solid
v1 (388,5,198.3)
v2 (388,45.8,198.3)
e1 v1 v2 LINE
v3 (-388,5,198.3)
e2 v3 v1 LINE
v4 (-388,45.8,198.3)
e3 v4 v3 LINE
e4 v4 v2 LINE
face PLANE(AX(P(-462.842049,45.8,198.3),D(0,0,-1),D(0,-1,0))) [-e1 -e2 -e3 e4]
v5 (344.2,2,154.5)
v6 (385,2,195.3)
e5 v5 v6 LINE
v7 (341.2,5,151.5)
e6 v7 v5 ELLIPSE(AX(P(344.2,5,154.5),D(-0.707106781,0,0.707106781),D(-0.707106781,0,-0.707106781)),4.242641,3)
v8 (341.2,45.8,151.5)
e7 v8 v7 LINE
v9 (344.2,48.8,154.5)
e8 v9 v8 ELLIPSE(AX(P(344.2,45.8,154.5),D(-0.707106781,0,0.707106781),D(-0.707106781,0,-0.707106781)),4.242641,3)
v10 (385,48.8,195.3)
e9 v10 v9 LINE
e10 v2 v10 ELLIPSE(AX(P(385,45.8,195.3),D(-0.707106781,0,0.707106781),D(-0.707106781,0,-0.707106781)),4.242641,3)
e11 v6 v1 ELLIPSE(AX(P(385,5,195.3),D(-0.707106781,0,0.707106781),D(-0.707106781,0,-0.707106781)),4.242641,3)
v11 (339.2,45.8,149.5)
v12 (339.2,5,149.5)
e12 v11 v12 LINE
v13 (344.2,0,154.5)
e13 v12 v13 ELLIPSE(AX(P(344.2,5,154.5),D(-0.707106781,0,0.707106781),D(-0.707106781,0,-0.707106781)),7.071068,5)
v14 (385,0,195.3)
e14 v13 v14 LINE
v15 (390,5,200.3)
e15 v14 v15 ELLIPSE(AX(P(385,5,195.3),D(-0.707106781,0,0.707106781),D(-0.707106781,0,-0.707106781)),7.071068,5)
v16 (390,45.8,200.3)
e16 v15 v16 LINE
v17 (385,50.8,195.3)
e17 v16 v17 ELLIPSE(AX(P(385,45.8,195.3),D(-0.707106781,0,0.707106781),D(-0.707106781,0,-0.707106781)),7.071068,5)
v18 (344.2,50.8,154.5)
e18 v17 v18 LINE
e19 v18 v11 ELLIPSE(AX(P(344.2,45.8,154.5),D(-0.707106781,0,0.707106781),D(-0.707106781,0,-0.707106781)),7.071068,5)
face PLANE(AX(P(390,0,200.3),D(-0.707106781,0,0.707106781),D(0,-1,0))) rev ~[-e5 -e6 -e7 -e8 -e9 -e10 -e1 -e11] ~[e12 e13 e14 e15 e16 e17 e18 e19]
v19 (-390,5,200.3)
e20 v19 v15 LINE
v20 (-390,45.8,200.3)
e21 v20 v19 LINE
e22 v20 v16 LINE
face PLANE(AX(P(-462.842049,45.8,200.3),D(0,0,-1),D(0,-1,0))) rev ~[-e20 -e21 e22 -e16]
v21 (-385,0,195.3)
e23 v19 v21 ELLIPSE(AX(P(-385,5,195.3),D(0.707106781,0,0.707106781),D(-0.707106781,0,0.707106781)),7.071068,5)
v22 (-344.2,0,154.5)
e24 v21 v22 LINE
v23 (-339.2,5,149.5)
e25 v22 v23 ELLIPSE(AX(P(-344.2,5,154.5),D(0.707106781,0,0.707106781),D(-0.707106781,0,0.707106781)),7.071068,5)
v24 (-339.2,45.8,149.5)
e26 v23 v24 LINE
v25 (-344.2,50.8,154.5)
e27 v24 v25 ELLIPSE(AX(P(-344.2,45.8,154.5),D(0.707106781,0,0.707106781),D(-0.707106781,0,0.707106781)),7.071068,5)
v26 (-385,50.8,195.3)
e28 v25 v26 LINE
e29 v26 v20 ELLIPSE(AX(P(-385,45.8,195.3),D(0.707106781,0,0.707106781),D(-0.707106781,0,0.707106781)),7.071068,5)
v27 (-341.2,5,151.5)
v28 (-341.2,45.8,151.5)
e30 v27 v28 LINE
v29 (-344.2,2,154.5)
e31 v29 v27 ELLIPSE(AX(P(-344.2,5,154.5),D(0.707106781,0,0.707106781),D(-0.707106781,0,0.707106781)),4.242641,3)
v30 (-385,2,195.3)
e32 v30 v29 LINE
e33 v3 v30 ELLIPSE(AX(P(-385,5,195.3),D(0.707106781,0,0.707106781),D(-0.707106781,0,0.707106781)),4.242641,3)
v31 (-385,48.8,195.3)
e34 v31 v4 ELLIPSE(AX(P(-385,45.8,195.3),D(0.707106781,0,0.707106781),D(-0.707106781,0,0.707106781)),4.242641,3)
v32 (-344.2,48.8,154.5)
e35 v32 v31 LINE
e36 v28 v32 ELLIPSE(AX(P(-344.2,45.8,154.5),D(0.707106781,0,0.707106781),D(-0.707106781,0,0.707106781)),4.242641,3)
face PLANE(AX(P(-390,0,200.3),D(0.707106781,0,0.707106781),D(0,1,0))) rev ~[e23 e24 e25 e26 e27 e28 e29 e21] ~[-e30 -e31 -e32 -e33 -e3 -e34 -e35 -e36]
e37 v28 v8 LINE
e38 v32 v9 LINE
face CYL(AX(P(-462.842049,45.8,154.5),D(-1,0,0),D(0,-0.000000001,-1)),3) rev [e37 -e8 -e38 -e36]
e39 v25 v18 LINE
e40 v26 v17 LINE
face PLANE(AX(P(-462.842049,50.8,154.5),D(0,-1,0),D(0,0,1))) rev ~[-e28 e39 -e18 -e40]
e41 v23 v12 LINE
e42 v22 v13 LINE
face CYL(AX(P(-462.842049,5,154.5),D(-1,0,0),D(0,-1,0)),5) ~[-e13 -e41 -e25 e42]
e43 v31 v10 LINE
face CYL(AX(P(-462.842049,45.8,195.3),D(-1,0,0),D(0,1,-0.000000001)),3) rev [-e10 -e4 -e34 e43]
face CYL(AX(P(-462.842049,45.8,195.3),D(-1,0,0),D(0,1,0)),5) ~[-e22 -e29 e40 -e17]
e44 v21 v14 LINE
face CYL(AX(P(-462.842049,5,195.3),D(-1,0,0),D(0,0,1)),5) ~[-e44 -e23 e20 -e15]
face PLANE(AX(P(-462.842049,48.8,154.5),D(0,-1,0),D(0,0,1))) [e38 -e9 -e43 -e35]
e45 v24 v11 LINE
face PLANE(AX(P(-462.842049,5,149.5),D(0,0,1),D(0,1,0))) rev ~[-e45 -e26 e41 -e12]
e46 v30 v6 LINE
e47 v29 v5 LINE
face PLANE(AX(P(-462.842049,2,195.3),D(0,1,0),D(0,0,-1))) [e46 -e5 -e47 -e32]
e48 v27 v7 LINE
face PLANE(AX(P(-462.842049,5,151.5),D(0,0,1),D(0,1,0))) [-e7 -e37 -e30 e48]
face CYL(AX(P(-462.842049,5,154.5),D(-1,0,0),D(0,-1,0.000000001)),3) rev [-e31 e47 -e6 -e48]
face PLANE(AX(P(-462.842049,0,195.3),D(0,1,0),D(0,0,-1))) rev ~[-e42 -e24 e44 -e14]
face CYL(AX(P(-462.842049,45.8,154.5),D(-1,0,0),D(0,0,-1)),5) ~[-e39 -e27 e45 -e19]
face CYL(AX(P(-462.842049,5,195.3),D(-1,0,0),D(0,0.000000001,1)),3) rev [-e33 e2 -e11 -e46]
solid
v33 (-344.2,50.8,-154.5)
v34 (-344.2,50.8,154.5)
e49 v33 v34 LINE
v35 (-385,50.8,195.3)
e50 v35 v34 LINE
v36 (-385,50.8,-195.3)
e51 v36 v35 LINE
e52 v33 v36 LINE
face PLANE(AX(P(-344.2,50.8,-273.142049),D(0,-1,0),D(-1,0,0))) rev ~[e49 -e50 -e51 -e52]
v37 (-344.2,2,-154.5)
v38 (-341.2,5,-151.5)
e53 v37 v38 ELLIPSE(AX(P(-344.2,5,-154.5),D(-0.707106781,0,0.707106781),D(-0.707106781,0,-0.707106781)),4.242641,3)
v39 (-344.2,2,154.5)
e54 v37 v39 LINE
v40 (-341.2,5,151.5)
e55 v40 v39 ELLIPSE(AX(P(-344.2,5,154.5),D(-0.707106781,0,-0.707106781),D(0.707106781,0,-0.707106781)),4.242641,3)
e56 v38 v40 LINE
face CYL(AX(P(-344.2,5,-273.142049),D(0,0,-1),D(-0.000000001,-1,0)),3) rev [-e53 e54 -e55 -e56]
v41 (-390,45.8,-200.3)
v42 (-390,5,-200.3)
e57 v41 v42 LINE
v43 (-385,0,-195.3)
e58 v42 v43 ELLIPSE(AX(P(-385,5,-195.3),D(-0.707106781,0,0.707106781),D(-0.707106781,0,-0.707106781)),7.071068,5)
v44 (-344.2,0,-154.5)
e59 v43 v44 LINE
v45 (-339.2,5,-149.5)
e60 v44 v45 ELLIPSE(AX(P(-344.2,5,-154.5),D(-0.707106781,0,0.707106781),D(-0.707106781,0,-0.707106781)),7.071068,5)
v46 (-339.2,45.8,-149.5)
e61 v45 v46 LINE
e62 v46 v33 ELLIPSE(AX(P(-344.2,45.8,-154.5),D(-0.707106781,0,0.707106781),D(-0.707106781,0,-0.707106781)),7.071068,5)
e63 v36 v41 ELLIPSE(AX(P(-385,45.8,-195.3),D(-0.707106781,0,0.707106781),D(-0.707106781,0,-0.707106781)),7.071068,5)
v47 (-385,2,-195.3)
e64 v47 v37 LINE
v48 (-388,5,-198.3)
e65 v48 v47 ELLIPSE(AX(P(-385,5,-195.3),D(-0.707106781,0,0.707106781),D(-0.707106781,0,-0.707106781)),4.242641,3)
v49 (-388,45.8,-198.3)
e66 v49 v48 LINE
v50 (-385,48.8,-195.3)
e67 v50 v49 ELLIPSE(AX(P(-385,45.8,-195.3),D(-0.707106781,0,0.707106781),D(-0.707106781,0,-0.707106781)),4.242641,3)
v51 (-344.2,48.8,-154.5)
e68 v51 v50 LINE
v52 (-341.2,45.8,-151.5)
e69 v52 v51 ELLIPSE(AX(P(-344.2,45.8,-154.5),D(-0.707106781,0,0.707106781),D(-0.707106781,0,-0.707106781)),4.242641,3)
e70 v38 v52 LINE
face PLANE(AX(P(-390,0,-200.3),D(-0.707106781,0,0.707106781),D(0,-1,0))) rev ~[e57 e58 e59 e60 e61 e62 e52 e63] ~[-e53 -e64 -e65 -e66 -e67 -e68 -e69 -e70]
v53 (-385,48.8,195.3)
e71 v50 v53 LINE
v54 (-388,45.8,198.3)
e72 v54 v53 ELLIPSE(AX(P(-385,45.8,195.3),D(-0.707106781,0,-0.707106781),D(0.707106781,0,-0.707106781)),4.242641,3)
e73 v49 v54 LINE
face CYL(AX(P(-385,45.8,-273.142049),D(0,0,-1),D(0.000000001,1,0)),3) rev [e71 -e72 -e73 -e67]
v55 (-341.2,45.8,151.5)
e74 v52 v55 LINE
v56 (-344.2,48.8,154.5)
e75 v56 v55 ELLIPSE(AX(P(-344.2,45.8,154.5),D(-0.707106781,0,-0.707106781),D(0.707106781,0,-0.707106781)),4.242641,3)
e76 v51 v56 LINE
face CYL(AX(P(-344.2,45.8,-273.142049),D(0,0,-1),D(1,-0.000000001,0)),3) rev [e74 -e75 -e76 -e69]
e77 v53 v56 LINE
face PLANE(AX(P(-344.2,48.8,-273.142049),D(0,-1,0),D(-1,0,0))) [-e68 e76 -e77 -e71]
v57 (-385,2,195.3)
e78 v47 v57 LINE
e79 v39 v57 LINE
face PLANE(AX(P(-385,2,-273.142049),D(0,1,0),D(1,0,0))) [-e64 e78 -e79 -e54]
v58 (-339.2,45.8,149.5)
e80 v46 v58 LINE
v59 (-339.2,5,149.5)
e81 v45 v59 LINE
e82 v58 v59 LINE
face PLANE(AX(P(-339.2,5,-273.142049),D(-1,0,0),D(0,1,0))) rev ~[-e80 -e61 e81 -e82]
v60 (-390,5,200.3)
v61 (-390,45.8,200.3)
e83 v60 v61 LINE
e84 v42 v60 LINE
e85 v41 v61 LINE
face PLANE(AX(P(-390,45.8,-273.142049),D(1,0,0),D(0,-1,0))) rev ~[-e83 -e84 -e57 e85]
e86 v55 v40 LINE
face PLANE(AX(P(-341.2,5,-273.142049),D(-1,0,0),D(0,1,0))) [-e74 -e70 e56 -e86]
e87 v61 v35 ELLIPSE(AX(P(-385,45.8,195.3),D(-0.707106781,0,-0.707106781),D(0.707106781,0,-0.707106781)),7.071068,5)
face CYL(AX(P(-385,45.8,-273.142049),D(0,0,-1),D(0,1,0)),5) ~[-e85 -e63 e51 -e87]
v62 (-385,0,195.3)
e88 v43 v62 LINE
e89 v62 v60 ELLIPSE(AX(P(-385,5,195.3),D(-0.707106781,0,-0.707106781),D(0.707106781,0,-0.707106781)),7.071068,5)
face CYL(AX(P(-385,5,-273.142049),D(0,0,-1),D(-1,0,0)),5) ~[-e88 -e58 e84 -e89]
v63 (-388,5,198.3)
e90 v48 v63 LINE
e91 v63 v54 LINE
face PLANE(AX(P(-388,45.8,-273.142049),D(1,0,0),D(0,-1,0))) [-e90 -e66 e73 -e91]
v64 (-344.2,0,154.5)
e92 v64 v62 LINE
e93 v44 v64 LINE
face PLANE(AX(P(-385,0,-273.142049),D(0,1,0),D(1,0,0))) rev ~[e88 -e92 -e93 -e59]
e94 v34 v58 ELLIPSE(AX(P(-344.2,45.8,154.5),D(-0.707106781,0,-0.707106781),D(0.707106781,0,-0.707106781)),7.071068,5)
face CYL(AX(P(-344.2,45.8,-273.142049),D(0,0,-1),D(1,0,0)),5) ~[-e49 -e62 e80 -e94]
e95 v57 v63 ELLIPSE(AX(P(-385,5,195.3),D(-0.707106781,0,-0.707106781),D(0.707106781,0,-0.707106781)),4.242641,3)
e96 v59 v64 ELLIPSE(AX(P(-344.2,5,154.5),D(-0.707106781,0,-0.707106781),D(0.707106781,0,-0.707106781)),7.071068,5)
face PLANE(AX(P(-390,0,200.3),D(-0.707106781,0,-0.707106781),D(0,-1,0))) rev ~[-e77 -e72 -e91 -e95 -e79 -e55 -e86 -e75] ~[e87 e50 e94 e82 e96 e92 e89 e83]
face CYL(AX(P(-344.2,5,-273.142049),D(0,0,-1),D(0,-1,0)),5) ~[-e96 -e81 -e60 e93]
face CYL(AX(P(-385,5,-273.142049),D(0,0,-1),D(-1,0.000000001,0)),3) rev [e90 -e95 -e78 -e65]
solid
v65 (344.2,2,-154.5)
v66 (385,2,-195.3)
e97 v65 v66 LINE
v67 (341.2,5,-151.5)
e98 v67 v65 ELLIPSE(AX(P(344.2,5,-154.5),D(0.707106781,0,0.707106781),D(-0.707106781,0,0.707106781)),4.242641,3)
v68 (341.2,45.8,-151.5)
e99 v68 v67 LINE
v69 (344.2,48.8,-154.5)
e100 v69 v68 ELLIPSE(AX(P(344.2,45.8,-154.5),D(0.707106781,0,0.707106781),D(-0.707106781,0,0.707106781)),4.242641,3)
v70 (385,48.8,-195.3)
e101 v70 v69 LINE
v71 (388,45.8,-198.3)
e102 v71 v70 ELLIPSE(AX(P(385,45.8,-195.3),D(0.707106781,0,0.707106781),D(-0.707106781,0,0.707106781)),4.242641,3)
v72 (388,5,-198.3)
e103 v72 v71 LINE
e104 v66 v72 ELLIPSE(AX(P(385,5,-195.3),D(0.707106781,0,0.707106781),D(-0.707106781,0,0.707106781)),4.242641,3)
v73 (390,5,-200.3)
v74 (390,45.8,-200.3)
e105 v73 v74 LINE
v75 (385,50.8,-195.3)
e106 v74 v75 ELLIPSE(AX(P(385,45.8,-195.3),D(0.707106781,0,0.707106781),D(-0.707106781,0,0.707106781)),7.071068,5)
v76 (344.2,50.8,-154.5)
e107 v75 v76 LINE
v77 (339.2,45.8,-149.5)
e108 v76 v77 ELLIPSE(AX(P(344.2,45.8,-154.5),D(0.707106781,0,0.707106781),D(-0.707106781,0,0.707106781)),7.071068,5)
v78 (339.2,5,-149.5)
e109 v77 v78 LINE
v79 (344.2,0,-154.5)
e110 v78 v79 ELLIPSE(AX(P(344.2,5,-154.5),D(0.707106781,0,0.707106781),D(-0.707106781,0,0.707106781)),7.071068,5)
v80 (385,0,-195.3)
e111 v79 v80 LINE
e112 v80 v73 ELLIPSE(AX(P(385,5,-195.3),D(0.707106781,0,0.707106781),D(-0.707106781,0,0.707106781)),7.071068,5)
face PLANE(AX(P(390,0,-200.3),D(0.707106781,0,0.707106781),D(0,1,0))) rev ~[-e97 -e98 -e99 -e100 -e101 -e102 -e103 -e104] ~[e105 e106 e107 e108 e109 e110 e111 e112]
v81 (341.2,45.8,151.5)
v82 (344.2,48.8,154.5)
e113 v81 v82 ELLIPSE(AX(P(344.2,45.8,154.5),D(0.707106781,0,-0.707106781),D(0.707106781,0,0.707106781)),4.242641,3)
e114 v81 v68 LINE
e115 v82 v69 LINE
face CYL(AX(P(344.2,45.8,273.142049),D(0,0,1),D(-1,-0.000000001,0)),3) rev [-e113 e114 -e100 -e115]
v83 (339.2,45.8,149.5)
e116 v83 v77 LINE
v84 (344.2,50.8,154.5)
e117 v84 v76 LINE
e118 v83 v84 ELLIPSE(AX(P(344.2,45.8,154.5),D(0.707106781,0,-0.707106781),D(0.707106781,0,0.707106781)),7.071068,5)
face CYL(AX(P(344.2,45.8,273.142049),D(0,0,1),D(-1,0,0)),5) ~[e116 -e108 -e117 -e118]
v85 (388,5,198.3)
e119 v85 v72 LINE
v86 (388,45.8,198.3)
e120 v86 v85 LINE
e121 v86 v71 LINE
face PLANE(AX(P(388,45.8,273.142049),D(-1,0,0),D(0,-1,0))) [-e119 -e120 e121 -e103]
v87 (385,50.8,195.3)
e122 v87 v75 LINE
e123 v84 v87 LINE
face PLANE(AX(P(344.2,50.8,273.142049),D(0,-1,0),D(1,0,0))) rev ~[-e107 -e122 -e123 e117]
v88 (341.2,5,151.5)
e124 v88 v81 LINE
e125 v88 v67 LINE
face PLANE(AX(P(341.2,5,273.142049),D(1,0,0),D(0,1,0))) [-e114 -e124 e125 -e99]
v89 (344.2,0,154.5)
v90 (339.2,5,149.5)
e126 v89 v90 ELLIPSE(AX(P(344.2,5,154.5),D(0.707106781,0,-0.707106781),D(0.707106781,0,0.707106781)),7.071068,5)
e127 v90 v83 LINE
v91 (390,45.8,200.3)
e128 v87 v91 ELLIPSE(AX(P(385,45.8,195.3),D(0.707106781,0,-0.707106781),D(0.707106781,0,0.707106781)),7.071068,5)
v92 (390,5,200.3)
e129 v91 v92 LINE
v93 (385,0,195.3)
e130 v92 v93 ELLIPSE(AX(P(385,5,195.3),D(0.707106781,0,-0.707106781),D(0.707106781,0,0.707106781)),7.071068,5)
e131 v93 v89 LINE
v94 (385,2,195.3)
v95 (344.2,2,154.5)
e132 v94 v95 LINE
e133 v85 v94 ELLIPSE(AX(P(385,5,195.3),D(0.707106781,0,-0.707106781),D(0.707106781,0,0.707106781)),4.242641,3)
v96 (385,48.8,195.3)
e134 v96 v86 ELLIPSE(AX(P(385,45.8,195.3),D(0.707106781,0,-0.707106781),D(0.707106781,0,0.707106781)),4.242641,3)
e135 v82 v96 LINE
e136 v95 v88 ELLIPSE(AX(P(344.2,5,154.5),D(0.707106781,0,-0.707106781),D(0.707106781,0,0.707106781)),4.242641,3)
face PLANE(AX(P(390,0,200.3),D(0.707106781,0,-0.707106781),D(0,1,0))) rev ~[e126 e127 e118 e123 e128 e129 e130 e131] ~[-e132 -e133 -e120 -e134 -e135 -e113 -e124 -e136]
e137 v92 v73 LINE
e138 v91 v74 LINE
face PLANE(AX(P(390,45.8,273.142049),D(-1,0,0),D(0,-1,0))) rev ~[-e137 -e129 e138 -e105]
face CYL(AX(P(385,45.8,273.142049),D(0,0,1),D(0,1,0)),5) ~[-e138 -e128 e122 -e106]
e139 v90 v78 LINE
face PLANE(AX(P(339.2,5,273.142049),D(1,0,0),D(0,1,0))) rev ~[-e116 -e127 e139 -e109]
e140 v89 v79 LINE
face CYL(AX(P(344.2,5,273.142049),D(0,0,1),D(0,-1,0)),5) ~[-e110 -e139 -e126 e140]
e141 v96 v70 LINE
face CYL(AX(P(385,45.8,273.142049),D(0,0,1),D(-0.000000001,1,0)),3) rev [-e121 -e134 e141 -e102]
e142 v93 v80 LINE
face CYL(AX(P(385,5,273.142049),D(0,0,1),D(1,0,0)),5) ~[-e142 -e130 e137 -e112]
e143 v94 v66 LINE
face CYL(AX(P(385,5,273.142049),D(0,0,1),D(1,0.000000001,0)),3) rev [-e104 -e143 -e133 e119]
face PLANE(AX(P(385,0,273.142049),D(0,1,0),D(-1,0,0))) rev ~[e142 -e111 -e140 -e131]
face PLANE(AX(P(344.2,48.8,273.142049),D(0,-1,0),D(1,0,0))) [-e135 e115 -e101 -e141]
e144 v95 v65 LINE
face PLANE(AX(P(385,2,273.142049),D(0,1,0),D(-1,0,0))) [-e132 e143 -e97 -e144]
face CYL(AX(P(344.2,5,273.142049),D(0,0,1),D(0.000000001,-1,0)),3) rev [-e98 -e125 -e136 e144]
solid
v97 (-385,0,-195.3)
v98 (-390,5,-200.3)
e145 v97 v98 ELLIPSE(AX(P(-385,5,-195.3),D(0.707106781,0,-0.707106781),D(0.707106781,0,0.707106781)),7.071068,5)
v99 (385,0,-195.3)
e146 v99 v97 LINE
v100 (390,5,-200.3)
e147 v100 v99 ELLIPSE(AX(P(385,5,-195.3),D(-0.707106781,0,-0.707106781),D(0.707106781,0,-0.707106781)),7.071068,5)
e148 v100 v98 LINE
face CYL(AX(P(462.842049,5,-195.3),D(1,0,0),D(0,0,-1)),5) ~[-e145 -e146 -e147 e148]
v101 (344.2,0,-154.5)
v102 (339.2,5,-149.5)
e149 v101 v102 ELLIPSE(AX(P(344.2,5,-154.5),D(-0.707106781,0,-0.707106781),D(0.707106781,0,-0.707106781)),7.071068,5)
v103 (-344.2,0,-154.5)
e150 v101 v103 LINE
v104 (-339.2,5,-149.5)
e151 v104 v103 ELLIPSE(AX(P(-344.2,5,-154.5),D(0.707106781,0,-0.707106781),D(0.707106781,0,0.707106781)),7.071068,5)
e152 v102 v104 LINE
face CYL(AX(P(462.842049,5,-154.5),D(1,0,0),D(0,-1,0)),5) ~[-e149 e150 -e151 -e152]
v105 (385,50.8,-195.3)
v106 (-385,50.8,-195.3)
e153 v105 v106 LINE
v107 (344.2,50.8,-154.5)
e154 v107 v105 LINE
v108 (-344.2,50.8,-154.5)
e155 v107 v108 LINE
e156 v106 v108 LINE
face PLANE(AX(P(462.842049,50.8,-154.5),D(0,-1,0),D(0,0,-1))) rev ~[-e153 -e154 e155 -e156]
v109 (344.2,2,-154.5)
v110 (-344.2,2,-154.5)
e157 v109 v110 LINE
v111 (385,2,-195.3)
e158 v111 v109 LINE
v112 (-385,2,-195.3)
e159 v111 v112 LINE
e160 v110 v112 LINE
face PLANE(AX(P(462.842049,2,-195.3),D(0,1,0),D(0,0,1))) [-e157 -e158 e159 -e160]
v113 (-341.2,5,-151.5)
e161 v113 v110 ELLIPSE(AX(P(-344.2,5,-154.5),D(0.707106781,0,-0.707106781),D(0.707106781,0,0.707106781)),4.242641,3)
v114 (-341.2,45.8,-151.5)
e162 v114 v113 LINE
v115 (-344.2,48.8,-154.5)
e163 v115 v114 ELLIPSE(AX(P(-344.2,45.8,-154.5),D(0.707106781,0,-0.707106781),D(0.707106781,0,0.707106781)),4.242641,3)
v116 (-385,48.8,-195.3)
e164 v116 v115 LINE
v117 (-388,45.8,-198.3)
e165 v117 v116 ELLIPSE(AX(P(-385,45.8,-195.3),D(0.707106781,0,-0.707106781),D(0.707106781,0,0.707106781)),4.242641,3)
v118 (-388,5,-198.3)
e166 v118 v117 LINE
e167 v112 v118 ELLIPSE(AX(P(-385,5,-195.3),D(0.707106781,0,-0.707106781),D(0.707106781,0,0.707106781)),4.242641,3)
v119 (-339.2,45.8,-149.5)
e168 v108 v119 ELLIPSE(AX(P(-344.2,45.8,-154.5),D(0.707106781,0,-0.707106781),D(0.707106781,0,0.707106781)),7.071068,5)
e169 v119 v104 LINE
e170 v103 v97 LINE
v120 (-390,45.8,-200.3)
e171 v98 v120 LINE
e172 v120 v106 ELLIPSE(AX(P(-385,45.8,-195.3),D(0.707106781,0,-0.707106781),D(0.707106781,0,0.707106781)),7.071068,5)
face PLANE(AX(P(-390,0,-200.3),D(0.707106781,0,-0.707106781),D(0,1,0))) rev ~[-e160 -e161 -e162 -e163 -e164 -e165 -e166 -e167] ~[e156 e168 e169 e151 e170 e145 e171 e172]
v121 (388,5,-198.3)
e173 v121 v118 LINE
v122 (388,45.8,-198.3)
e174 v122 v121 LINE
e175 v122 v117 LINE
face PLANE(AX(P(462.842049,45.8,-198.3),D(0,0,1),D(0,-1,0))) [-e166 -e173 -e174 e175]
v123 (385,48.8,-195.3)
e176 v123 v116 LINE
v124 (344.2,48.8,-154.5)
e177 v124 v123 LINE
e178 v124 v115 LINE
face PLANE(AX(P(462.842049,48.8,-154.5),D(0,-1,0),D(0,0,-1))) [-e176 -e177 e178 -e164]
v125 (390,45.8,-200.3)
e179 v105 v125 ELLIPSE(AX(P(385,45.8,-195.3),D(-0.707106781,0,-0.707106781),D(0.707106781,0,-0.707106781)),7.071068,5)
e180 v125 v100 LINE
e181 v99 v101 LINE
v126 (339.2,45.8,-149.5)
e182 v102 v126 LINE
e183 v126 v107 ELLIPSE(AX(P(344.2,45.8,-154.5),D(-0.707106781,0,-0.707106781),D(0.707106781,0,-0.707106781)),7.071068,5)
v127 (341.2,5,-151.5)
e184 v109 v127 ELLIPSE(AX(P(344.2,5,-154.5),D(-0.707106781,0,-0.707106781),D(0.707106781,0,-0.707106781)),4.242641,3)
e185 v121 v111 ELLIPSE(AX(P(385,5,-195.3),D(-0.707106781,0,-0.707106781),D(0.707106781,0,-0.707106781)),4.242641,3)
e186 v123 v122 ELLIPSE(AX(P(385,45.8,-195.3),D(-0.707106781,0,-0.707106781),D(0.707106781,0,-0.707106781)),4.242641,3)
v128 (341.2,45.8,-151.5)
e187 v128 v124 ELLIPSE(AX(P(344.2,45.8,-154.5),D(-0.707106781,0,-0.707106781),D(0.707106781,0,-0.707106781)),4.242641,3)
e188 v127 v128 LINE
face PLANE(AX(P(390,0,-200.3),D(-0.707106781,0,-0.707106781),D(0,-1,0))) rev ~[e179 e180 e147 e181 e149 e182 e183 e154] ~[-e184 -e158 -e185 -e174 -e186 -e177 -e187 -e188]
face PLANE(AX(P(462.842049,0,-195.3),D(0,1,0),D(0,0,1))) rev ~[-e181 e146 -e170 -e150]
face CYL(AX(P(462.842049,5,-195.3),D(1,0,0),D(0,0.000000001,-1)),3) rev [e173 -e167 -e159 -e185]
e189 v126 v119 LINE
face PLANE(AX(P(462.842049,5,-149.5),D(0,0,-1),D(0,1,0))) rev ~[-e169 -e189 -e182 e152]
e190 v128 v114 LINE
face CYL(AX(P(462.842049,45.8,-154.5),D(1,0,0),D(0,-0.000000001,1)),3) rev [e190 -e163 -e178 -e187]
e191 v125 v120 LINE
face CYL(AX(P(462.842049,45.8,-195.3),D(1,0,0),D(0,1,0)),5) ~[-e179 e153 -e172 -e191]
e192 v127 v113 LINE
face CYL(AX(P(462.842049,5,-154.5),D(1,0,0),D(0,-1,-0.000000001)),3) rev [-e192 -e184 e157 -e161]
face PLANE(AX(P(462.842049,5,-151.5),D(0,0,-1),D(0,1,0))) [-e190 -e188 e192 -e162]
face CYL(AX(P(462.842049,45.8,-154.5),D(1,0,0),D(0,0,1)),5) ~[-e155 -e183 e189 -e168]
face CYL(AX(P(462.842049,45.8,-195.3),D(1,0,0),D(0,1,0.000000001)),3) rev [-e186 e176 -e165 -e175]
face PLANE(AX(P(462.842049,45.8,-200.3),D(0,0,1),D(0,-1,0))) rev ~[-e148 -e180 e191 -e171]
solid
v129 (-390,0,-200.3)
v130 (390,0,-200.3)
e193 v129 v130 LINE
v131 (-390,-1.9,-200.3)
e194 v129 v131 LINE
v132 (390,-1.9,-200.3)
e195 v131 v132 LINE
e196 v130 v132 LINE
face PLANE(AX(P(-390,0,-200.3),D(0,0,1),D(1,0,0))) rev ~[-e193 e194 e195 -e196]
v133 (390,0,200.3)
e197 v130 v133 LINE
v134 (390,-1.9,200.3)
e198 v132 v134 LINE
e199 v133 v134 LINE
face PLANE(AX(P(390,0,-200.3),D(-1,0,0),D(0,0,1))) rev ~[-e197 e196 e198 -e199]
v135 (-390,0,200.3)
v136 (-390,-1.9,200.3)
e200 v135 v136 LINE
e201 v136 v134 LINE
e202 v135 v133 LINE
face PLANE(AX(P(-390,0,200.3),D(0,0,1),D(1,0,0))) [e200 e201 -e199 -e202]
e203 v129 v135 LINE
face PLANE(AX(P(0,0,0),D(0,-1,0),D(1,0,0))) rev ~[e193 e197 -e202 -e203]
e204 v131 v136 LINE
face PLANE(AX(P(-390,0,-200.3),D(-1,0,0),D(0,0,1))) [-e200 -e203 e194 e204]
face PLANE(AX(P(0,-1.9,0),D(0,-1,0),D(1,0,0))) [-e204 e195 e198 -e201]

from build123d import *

# Parameters (mm, degrees)
TUBO_CUADRADO_2_X_2_X_0_25_1_DEPTH      = 473.442048969
TUBO_CUADRADO_2_X_2_X_0_25_1_DEPTH_BACK = 72.842048969
TUBO_CUADRADO_2_X_2_X_0_25_1_2_DEPTH    = 925.684097937
TUBO_CUADRADO_2_X_2_X_0_25_1_3_DEPTH    = 546.284097937
TUBO_CUADRADO_2_X_2_X_0_25_1_4_DEPTH    = 925.684097937
CROQUIS3_W                              = 780
CROQUIS3_H                              = 400.6
SALIENTE_EXTRUIR1_DEPTH                 = 1.9


with BuildPart() as part:
    # Sketch1 → Tubo cuadrado 2 X 2 X 0.25(1) (new, two sides: drawn at the far end of the back side and taken through both)
    with BuildSketch(Plane(origin=(-364.6, 25.4, -200.3), x_dir=(1, 0, 0), z_dir=(0, 0, 1)).offset(-TUBO_CUADRADO_2_X_2_X_0_25_1_DEPTH_BACK)):
        with BuildLine():
            Line((-20.4, -25.4), (20.4, -25.4))
            ThreePointArc((20.4, -25.4), (23.935533906, -23.935533906), (25.4, -20.4))
            Line((25.4, -20.4), (25.4, 20.4))
            ThreePointArc((25.4, 20.4), (23.935533906, 23.935533906), (20.4, 25.4))
            Line((20.4, 25.4), (-20.4, 25.4))
            ThreePointArc((-20.4, 25.4), (-23.935533906, 23.935533906), (-25.4, 20.4))
            Line((-25.4, 20.4), (-25.4, -20.4))
            ThreePointArc((-25.4, -20.4), (-23.935533906, -23.935533906), (-20.4, -25.4))
        make_face()
        with BuildLine():
            Line((-20.4, -23.4), (20.4, -23.4))
            ThreePointArc((20.4, -23.4), (22.521320344, -22.521320344), (23.4, -20.4))
            Line((23.4, -20.4), (23.4, 20.4))
            ThreePointArc((23.4, 20.4), (22.521320344, 22.521320344), (20.4, 23.4))
            Line((20.4, 23.4), (-20.4, 23.4))
            ThreePointArc((-20.4, 23.4), (-22.521320344, 22.521320344), (-23.4, 20.4))
            Line((-23.4, 20.4), (-23.4, -20.4))
            ThreePointArc((-23.4, -20.4), (-22.521320344, -22.521320344), (-20.4, -23.4))
        make_face(mode=Mode.SUBTRACT)
    extrude(amount=TUBO_CUADRADO_2_X_2_X_0_25_1_DEPTH + TUBO_CUADRADO_2_X_2_X_0_25_1_DEPTH_BACK)

    # Tubo cuadrado 2 X 2 X 0.25(1) mitre 1
    split(bisect_by=Plane(origin=(-390, 0, -200.3), x_dir=(0, -1, 0), z_dir=(-0.707106781, 0, 0.707106781)), keep=Keep.TOP)

    # Tubo cuadrado 2 X 2 X 0.25(1) mitre 2
    split(bisect_by=Plane(origin=(-390, 0, 200.3), x_dir=(0, -1, 0), z_dir=(-0.707106781, 0, -0.707106781)), keep=Keep.TOP)


with BuildPart() as body_2:
    # Sketch1 on segment 2 (carried to segment 2) → Tubo cuadrado 2 X 2 X 0.25_1 2 (new body)
    with BuildSketch(Plane(origin=(-462.842048969, 25.4, 174.9), x_dir=(0, 0, -1), z_dir=(1, 0, 0))):
        with BuildLine():
            Line((-20.4, -25.4), (20.4, -25.4))
            ThreePointArc((20.4, -25.4), (23.935533906, -23.935533906), (25.4, -20.4))
            Line((25.4, -20.4), (25.4, 20.4))
            ThreePointArc((25.4, 20.4), (23.935533906, 23.935533906), (20.4, 25.4))
            Line((20.4, 25.4), (-20.4, 25.4))
            ThreePointArc((-20.4, 25.4), (-23.935533906, 23.935533906), (-25.4, 20.4))
            Line((-25.4, 20.4), (-25.4, -20.4))
            ThreePointArc((-25.4, -20.4), (-23.935533906, -23.935533906), (-20.4, -25.4))
        make_face()
        with BuildLine():
            Line((-20.4, -23.4), (20.4, -23.4))
            ThreePointArc((20.4, -23.4), (22.521320344, -22.521320344), (23.4, -20.4))
            Line((23.4, -20.4), (23.4, 20.4))
            ThreePointArc((23.4, 20.4), (22.521320344, 22.521320344), (20.4, 23.4))
            Line((20.4, 23.4), (-20.4, 23.4))
            ThreePointArc((-20.4, 23.4), (-22.521320344, 22.521320344), (-23.4, 20.4))
            Line((-23.4, 20.4), (-23.4, -20.4))
            ThreePointArc((-23.4, -20.4), (-22.521320344, -22.521320344), (-20.4, -23.4))
        make_face(mode=Mode.SUBTRACT)
    extrude(amount=TUBO_CUADRADO_2_X_2_X_0_25_1_2_DEPTH)

    # Tubo cuadrado 2 X 2 X 0.25_1 2 mitre 1
    split(bisect_by=Plane(origin=(-390, 0, 200.3), x_dir=(0, 1, 0), z_dir=(0.707106781, 0, 0.707106781)), keep=Keep.TOP)

    # Tubo cuadrado 2 X 2 X 0.25_1 2 mitre 2
    split(bisect_by=Plane(origin=(390, 0, 200.3), x_dir=(0, -1, 0), z_dir=(-0.707106781, 0, 0.707106781)), keep=Keep.TOP)


with BuildPart() as body_3:
    # Sketch1 on segment 3 (carried to segment 3) → Tubo cuadrado 2 X 2 X 0.25_1 3 (new body)
    with BuildSketch(Plane(origin=(364.6, 25.4, 273.142048969), x_dir=(-1, 0, 0), z_dir=(0, 0, -1))):
        with BuildLine():
            Line((-20.4, -25.4), (20.4, -25.4))
            ThreePointArc((20.4, -25.4), (23.935533906, -23.935533906), (25.4, -20.4))
            Line((25.4, -20.4), (25.4, 20.4))
            ThreePointArc((25.4, 20.4), (23.935533906, 23.935533906), (20.4, 25.4))
            Line((20.4, 25.4), (-20.4, 25.4))
            ThreePointArc((-20.4, 25.4), (-23.935533906, 23.935533906), (-25.4, 20.4))
            Line((-25.4, 20.4), (-25.4, -20.4))
            ThreePointArc((-25.4, -20.4), (-23.935533906, -23.935533906), (-20.4, -25.4))
        make_face()
        with BuildLine():
            Line((-20.4, -23.4), (20.4, -23.4))
            ThreePointArc((20.4, -23.4), (22.521320344, -22.521320344), (23.4, -20.4))
            Line((23.4, -20.4), (23.4, 20.4))
            ThreePointArc((23.4, 20.4), (22.521320344, 22.521320344), (20.4, 23.4))
            Line((20.4, 23.4), (-20.4, 23.4))
            ThreePointArc((-20.4, 23.4), (-22.521320344, 22.521320344), (-23.4, 20.4))
            Line((-23.4, 20.4), (-23.4, -20.4))
            ThreePointArc((-23.4, -20.4), (-22.521320344, -22.521320344), (-20.4, -23.4))
        make_face(mode=Mode.SUBTRACT)
    extrude(amount=TUBO_CUADRADO_2_X_2_X_0_25_1_3_DEPTH)

    # Tubo cuadrado 2 X 2 X 0.25_1 3 mitre 1
    split(bisect_by=Plane(origin=(390, 0, -200.3), x_dir=(0, 1, 0), z_dir=(0.707106781, 0, 0.707106781)), keep=Keep.TOP)

    # Tubo cuadrado 2 X 2 X 0.25_1 3 mitre 2
    split(bisect_by=Plane(origin=(390, 0, 200.3), x_dir=(0, 1, 0), z_dir=(0.707106781, 0, -0.707106781)), keep=Keep.TOP)


with BuildPart() as body_4:
    # Sketch1 on segment 4 (carried to segment 4) → Tubo cuadrado 2 X 2 X 0.25_1 4 (new body)
    with BuildSketch(Plane(origin=(462.842048969, 25.4, -174.9), x_dir=(0, 0, 1), z_dir=(-1, 0, 0))):
        with BuildLine():
            Line((-20.4, -25.4), (20.4, -25.4))
            ThreePointArc((20.4, -25.4), (23.935533906, -23.935533906), (25.4, -20.4))
            Line((25.4, -20.4), (25.4, 20.4))
            ThreePointArc((25.4, 20.4), (23.935533906, 23.935533906), (20.4, 25.4))
            Line((20.4, 25.4), (-20.4, 25.4))
            ThreePointArc((-20.4, 25.4), (-23.935533906, 23.935533906), (-25.4, 20.4))
            Line((-25.4, 20.4), (-25.4, -20.4))
            ThreePointArc((-25.4, -20.4), (-23.935533906, -23.935533906), (-20.4, -25.4))
        make_face()
        with BuildLine():
            Line((-20.4, -23.4), (20.4, -23.4))
            ThreePointArc((20.4, -23.4), (22.521320344, -22.521320344), (23.4, -20.4))
            Line((23.4, -20.4), (23.4, 20.4))
            ThreePointArc((23.4, 20.4), (22.521320344, 22.521320344), (20.4, 23.4))
            Line((20.4, 23.4), (-20.4, 23.4))
            ThreePointArc((-20.4, 23.4), (-22.521320344, 22.521320344), (-23.4, 20.4))
            Line((-23.4, 20.4), (-23.4, -20.4))
            ThreePointArc((-23.4, -20.4), (-22.521320344, -22.521320344), (-20.4, -23.4))
        make_face(mode=Mode.SUBTRACT)
    extrude(amount=TUBO_CUADRADO_2_X_2_X_0_25_1_4_DEPTH)

    # Tubo cuadrado 2 X 2 X 0.25_1 4 mitre 1
    split(bisect_by=Plane(origin=(-390, 0, -200.3), x_dir=(0, 1, 0), z_dir=(0.707106781, 0, -0.707106781)), keep=Keep.TOP)

    # Tubo cuadrado 2 X 2 X 0.25_1 4 mitre 2
    split(bisect_by=Plane(origin=(390, 0, -200.3), x_dir=(0, -1, 0), z_dir=(-0.707106781, 0, -0.707106781)), keep=Keep.TOP)


with BuildPart() as body_5:
    # Croquis3 → Saliente-Extruir1 (new body)
    with BuildSketch(Plane.XZ):
        Rectangle(CROQUIS3_W, CROQUIS3_H)
    extrude(amount=SALIENTE_EXTRUIR1_DEPTH)


solid = Compound([part.part, body_2.part, body_3.part, body_4.part, body_5.part])
